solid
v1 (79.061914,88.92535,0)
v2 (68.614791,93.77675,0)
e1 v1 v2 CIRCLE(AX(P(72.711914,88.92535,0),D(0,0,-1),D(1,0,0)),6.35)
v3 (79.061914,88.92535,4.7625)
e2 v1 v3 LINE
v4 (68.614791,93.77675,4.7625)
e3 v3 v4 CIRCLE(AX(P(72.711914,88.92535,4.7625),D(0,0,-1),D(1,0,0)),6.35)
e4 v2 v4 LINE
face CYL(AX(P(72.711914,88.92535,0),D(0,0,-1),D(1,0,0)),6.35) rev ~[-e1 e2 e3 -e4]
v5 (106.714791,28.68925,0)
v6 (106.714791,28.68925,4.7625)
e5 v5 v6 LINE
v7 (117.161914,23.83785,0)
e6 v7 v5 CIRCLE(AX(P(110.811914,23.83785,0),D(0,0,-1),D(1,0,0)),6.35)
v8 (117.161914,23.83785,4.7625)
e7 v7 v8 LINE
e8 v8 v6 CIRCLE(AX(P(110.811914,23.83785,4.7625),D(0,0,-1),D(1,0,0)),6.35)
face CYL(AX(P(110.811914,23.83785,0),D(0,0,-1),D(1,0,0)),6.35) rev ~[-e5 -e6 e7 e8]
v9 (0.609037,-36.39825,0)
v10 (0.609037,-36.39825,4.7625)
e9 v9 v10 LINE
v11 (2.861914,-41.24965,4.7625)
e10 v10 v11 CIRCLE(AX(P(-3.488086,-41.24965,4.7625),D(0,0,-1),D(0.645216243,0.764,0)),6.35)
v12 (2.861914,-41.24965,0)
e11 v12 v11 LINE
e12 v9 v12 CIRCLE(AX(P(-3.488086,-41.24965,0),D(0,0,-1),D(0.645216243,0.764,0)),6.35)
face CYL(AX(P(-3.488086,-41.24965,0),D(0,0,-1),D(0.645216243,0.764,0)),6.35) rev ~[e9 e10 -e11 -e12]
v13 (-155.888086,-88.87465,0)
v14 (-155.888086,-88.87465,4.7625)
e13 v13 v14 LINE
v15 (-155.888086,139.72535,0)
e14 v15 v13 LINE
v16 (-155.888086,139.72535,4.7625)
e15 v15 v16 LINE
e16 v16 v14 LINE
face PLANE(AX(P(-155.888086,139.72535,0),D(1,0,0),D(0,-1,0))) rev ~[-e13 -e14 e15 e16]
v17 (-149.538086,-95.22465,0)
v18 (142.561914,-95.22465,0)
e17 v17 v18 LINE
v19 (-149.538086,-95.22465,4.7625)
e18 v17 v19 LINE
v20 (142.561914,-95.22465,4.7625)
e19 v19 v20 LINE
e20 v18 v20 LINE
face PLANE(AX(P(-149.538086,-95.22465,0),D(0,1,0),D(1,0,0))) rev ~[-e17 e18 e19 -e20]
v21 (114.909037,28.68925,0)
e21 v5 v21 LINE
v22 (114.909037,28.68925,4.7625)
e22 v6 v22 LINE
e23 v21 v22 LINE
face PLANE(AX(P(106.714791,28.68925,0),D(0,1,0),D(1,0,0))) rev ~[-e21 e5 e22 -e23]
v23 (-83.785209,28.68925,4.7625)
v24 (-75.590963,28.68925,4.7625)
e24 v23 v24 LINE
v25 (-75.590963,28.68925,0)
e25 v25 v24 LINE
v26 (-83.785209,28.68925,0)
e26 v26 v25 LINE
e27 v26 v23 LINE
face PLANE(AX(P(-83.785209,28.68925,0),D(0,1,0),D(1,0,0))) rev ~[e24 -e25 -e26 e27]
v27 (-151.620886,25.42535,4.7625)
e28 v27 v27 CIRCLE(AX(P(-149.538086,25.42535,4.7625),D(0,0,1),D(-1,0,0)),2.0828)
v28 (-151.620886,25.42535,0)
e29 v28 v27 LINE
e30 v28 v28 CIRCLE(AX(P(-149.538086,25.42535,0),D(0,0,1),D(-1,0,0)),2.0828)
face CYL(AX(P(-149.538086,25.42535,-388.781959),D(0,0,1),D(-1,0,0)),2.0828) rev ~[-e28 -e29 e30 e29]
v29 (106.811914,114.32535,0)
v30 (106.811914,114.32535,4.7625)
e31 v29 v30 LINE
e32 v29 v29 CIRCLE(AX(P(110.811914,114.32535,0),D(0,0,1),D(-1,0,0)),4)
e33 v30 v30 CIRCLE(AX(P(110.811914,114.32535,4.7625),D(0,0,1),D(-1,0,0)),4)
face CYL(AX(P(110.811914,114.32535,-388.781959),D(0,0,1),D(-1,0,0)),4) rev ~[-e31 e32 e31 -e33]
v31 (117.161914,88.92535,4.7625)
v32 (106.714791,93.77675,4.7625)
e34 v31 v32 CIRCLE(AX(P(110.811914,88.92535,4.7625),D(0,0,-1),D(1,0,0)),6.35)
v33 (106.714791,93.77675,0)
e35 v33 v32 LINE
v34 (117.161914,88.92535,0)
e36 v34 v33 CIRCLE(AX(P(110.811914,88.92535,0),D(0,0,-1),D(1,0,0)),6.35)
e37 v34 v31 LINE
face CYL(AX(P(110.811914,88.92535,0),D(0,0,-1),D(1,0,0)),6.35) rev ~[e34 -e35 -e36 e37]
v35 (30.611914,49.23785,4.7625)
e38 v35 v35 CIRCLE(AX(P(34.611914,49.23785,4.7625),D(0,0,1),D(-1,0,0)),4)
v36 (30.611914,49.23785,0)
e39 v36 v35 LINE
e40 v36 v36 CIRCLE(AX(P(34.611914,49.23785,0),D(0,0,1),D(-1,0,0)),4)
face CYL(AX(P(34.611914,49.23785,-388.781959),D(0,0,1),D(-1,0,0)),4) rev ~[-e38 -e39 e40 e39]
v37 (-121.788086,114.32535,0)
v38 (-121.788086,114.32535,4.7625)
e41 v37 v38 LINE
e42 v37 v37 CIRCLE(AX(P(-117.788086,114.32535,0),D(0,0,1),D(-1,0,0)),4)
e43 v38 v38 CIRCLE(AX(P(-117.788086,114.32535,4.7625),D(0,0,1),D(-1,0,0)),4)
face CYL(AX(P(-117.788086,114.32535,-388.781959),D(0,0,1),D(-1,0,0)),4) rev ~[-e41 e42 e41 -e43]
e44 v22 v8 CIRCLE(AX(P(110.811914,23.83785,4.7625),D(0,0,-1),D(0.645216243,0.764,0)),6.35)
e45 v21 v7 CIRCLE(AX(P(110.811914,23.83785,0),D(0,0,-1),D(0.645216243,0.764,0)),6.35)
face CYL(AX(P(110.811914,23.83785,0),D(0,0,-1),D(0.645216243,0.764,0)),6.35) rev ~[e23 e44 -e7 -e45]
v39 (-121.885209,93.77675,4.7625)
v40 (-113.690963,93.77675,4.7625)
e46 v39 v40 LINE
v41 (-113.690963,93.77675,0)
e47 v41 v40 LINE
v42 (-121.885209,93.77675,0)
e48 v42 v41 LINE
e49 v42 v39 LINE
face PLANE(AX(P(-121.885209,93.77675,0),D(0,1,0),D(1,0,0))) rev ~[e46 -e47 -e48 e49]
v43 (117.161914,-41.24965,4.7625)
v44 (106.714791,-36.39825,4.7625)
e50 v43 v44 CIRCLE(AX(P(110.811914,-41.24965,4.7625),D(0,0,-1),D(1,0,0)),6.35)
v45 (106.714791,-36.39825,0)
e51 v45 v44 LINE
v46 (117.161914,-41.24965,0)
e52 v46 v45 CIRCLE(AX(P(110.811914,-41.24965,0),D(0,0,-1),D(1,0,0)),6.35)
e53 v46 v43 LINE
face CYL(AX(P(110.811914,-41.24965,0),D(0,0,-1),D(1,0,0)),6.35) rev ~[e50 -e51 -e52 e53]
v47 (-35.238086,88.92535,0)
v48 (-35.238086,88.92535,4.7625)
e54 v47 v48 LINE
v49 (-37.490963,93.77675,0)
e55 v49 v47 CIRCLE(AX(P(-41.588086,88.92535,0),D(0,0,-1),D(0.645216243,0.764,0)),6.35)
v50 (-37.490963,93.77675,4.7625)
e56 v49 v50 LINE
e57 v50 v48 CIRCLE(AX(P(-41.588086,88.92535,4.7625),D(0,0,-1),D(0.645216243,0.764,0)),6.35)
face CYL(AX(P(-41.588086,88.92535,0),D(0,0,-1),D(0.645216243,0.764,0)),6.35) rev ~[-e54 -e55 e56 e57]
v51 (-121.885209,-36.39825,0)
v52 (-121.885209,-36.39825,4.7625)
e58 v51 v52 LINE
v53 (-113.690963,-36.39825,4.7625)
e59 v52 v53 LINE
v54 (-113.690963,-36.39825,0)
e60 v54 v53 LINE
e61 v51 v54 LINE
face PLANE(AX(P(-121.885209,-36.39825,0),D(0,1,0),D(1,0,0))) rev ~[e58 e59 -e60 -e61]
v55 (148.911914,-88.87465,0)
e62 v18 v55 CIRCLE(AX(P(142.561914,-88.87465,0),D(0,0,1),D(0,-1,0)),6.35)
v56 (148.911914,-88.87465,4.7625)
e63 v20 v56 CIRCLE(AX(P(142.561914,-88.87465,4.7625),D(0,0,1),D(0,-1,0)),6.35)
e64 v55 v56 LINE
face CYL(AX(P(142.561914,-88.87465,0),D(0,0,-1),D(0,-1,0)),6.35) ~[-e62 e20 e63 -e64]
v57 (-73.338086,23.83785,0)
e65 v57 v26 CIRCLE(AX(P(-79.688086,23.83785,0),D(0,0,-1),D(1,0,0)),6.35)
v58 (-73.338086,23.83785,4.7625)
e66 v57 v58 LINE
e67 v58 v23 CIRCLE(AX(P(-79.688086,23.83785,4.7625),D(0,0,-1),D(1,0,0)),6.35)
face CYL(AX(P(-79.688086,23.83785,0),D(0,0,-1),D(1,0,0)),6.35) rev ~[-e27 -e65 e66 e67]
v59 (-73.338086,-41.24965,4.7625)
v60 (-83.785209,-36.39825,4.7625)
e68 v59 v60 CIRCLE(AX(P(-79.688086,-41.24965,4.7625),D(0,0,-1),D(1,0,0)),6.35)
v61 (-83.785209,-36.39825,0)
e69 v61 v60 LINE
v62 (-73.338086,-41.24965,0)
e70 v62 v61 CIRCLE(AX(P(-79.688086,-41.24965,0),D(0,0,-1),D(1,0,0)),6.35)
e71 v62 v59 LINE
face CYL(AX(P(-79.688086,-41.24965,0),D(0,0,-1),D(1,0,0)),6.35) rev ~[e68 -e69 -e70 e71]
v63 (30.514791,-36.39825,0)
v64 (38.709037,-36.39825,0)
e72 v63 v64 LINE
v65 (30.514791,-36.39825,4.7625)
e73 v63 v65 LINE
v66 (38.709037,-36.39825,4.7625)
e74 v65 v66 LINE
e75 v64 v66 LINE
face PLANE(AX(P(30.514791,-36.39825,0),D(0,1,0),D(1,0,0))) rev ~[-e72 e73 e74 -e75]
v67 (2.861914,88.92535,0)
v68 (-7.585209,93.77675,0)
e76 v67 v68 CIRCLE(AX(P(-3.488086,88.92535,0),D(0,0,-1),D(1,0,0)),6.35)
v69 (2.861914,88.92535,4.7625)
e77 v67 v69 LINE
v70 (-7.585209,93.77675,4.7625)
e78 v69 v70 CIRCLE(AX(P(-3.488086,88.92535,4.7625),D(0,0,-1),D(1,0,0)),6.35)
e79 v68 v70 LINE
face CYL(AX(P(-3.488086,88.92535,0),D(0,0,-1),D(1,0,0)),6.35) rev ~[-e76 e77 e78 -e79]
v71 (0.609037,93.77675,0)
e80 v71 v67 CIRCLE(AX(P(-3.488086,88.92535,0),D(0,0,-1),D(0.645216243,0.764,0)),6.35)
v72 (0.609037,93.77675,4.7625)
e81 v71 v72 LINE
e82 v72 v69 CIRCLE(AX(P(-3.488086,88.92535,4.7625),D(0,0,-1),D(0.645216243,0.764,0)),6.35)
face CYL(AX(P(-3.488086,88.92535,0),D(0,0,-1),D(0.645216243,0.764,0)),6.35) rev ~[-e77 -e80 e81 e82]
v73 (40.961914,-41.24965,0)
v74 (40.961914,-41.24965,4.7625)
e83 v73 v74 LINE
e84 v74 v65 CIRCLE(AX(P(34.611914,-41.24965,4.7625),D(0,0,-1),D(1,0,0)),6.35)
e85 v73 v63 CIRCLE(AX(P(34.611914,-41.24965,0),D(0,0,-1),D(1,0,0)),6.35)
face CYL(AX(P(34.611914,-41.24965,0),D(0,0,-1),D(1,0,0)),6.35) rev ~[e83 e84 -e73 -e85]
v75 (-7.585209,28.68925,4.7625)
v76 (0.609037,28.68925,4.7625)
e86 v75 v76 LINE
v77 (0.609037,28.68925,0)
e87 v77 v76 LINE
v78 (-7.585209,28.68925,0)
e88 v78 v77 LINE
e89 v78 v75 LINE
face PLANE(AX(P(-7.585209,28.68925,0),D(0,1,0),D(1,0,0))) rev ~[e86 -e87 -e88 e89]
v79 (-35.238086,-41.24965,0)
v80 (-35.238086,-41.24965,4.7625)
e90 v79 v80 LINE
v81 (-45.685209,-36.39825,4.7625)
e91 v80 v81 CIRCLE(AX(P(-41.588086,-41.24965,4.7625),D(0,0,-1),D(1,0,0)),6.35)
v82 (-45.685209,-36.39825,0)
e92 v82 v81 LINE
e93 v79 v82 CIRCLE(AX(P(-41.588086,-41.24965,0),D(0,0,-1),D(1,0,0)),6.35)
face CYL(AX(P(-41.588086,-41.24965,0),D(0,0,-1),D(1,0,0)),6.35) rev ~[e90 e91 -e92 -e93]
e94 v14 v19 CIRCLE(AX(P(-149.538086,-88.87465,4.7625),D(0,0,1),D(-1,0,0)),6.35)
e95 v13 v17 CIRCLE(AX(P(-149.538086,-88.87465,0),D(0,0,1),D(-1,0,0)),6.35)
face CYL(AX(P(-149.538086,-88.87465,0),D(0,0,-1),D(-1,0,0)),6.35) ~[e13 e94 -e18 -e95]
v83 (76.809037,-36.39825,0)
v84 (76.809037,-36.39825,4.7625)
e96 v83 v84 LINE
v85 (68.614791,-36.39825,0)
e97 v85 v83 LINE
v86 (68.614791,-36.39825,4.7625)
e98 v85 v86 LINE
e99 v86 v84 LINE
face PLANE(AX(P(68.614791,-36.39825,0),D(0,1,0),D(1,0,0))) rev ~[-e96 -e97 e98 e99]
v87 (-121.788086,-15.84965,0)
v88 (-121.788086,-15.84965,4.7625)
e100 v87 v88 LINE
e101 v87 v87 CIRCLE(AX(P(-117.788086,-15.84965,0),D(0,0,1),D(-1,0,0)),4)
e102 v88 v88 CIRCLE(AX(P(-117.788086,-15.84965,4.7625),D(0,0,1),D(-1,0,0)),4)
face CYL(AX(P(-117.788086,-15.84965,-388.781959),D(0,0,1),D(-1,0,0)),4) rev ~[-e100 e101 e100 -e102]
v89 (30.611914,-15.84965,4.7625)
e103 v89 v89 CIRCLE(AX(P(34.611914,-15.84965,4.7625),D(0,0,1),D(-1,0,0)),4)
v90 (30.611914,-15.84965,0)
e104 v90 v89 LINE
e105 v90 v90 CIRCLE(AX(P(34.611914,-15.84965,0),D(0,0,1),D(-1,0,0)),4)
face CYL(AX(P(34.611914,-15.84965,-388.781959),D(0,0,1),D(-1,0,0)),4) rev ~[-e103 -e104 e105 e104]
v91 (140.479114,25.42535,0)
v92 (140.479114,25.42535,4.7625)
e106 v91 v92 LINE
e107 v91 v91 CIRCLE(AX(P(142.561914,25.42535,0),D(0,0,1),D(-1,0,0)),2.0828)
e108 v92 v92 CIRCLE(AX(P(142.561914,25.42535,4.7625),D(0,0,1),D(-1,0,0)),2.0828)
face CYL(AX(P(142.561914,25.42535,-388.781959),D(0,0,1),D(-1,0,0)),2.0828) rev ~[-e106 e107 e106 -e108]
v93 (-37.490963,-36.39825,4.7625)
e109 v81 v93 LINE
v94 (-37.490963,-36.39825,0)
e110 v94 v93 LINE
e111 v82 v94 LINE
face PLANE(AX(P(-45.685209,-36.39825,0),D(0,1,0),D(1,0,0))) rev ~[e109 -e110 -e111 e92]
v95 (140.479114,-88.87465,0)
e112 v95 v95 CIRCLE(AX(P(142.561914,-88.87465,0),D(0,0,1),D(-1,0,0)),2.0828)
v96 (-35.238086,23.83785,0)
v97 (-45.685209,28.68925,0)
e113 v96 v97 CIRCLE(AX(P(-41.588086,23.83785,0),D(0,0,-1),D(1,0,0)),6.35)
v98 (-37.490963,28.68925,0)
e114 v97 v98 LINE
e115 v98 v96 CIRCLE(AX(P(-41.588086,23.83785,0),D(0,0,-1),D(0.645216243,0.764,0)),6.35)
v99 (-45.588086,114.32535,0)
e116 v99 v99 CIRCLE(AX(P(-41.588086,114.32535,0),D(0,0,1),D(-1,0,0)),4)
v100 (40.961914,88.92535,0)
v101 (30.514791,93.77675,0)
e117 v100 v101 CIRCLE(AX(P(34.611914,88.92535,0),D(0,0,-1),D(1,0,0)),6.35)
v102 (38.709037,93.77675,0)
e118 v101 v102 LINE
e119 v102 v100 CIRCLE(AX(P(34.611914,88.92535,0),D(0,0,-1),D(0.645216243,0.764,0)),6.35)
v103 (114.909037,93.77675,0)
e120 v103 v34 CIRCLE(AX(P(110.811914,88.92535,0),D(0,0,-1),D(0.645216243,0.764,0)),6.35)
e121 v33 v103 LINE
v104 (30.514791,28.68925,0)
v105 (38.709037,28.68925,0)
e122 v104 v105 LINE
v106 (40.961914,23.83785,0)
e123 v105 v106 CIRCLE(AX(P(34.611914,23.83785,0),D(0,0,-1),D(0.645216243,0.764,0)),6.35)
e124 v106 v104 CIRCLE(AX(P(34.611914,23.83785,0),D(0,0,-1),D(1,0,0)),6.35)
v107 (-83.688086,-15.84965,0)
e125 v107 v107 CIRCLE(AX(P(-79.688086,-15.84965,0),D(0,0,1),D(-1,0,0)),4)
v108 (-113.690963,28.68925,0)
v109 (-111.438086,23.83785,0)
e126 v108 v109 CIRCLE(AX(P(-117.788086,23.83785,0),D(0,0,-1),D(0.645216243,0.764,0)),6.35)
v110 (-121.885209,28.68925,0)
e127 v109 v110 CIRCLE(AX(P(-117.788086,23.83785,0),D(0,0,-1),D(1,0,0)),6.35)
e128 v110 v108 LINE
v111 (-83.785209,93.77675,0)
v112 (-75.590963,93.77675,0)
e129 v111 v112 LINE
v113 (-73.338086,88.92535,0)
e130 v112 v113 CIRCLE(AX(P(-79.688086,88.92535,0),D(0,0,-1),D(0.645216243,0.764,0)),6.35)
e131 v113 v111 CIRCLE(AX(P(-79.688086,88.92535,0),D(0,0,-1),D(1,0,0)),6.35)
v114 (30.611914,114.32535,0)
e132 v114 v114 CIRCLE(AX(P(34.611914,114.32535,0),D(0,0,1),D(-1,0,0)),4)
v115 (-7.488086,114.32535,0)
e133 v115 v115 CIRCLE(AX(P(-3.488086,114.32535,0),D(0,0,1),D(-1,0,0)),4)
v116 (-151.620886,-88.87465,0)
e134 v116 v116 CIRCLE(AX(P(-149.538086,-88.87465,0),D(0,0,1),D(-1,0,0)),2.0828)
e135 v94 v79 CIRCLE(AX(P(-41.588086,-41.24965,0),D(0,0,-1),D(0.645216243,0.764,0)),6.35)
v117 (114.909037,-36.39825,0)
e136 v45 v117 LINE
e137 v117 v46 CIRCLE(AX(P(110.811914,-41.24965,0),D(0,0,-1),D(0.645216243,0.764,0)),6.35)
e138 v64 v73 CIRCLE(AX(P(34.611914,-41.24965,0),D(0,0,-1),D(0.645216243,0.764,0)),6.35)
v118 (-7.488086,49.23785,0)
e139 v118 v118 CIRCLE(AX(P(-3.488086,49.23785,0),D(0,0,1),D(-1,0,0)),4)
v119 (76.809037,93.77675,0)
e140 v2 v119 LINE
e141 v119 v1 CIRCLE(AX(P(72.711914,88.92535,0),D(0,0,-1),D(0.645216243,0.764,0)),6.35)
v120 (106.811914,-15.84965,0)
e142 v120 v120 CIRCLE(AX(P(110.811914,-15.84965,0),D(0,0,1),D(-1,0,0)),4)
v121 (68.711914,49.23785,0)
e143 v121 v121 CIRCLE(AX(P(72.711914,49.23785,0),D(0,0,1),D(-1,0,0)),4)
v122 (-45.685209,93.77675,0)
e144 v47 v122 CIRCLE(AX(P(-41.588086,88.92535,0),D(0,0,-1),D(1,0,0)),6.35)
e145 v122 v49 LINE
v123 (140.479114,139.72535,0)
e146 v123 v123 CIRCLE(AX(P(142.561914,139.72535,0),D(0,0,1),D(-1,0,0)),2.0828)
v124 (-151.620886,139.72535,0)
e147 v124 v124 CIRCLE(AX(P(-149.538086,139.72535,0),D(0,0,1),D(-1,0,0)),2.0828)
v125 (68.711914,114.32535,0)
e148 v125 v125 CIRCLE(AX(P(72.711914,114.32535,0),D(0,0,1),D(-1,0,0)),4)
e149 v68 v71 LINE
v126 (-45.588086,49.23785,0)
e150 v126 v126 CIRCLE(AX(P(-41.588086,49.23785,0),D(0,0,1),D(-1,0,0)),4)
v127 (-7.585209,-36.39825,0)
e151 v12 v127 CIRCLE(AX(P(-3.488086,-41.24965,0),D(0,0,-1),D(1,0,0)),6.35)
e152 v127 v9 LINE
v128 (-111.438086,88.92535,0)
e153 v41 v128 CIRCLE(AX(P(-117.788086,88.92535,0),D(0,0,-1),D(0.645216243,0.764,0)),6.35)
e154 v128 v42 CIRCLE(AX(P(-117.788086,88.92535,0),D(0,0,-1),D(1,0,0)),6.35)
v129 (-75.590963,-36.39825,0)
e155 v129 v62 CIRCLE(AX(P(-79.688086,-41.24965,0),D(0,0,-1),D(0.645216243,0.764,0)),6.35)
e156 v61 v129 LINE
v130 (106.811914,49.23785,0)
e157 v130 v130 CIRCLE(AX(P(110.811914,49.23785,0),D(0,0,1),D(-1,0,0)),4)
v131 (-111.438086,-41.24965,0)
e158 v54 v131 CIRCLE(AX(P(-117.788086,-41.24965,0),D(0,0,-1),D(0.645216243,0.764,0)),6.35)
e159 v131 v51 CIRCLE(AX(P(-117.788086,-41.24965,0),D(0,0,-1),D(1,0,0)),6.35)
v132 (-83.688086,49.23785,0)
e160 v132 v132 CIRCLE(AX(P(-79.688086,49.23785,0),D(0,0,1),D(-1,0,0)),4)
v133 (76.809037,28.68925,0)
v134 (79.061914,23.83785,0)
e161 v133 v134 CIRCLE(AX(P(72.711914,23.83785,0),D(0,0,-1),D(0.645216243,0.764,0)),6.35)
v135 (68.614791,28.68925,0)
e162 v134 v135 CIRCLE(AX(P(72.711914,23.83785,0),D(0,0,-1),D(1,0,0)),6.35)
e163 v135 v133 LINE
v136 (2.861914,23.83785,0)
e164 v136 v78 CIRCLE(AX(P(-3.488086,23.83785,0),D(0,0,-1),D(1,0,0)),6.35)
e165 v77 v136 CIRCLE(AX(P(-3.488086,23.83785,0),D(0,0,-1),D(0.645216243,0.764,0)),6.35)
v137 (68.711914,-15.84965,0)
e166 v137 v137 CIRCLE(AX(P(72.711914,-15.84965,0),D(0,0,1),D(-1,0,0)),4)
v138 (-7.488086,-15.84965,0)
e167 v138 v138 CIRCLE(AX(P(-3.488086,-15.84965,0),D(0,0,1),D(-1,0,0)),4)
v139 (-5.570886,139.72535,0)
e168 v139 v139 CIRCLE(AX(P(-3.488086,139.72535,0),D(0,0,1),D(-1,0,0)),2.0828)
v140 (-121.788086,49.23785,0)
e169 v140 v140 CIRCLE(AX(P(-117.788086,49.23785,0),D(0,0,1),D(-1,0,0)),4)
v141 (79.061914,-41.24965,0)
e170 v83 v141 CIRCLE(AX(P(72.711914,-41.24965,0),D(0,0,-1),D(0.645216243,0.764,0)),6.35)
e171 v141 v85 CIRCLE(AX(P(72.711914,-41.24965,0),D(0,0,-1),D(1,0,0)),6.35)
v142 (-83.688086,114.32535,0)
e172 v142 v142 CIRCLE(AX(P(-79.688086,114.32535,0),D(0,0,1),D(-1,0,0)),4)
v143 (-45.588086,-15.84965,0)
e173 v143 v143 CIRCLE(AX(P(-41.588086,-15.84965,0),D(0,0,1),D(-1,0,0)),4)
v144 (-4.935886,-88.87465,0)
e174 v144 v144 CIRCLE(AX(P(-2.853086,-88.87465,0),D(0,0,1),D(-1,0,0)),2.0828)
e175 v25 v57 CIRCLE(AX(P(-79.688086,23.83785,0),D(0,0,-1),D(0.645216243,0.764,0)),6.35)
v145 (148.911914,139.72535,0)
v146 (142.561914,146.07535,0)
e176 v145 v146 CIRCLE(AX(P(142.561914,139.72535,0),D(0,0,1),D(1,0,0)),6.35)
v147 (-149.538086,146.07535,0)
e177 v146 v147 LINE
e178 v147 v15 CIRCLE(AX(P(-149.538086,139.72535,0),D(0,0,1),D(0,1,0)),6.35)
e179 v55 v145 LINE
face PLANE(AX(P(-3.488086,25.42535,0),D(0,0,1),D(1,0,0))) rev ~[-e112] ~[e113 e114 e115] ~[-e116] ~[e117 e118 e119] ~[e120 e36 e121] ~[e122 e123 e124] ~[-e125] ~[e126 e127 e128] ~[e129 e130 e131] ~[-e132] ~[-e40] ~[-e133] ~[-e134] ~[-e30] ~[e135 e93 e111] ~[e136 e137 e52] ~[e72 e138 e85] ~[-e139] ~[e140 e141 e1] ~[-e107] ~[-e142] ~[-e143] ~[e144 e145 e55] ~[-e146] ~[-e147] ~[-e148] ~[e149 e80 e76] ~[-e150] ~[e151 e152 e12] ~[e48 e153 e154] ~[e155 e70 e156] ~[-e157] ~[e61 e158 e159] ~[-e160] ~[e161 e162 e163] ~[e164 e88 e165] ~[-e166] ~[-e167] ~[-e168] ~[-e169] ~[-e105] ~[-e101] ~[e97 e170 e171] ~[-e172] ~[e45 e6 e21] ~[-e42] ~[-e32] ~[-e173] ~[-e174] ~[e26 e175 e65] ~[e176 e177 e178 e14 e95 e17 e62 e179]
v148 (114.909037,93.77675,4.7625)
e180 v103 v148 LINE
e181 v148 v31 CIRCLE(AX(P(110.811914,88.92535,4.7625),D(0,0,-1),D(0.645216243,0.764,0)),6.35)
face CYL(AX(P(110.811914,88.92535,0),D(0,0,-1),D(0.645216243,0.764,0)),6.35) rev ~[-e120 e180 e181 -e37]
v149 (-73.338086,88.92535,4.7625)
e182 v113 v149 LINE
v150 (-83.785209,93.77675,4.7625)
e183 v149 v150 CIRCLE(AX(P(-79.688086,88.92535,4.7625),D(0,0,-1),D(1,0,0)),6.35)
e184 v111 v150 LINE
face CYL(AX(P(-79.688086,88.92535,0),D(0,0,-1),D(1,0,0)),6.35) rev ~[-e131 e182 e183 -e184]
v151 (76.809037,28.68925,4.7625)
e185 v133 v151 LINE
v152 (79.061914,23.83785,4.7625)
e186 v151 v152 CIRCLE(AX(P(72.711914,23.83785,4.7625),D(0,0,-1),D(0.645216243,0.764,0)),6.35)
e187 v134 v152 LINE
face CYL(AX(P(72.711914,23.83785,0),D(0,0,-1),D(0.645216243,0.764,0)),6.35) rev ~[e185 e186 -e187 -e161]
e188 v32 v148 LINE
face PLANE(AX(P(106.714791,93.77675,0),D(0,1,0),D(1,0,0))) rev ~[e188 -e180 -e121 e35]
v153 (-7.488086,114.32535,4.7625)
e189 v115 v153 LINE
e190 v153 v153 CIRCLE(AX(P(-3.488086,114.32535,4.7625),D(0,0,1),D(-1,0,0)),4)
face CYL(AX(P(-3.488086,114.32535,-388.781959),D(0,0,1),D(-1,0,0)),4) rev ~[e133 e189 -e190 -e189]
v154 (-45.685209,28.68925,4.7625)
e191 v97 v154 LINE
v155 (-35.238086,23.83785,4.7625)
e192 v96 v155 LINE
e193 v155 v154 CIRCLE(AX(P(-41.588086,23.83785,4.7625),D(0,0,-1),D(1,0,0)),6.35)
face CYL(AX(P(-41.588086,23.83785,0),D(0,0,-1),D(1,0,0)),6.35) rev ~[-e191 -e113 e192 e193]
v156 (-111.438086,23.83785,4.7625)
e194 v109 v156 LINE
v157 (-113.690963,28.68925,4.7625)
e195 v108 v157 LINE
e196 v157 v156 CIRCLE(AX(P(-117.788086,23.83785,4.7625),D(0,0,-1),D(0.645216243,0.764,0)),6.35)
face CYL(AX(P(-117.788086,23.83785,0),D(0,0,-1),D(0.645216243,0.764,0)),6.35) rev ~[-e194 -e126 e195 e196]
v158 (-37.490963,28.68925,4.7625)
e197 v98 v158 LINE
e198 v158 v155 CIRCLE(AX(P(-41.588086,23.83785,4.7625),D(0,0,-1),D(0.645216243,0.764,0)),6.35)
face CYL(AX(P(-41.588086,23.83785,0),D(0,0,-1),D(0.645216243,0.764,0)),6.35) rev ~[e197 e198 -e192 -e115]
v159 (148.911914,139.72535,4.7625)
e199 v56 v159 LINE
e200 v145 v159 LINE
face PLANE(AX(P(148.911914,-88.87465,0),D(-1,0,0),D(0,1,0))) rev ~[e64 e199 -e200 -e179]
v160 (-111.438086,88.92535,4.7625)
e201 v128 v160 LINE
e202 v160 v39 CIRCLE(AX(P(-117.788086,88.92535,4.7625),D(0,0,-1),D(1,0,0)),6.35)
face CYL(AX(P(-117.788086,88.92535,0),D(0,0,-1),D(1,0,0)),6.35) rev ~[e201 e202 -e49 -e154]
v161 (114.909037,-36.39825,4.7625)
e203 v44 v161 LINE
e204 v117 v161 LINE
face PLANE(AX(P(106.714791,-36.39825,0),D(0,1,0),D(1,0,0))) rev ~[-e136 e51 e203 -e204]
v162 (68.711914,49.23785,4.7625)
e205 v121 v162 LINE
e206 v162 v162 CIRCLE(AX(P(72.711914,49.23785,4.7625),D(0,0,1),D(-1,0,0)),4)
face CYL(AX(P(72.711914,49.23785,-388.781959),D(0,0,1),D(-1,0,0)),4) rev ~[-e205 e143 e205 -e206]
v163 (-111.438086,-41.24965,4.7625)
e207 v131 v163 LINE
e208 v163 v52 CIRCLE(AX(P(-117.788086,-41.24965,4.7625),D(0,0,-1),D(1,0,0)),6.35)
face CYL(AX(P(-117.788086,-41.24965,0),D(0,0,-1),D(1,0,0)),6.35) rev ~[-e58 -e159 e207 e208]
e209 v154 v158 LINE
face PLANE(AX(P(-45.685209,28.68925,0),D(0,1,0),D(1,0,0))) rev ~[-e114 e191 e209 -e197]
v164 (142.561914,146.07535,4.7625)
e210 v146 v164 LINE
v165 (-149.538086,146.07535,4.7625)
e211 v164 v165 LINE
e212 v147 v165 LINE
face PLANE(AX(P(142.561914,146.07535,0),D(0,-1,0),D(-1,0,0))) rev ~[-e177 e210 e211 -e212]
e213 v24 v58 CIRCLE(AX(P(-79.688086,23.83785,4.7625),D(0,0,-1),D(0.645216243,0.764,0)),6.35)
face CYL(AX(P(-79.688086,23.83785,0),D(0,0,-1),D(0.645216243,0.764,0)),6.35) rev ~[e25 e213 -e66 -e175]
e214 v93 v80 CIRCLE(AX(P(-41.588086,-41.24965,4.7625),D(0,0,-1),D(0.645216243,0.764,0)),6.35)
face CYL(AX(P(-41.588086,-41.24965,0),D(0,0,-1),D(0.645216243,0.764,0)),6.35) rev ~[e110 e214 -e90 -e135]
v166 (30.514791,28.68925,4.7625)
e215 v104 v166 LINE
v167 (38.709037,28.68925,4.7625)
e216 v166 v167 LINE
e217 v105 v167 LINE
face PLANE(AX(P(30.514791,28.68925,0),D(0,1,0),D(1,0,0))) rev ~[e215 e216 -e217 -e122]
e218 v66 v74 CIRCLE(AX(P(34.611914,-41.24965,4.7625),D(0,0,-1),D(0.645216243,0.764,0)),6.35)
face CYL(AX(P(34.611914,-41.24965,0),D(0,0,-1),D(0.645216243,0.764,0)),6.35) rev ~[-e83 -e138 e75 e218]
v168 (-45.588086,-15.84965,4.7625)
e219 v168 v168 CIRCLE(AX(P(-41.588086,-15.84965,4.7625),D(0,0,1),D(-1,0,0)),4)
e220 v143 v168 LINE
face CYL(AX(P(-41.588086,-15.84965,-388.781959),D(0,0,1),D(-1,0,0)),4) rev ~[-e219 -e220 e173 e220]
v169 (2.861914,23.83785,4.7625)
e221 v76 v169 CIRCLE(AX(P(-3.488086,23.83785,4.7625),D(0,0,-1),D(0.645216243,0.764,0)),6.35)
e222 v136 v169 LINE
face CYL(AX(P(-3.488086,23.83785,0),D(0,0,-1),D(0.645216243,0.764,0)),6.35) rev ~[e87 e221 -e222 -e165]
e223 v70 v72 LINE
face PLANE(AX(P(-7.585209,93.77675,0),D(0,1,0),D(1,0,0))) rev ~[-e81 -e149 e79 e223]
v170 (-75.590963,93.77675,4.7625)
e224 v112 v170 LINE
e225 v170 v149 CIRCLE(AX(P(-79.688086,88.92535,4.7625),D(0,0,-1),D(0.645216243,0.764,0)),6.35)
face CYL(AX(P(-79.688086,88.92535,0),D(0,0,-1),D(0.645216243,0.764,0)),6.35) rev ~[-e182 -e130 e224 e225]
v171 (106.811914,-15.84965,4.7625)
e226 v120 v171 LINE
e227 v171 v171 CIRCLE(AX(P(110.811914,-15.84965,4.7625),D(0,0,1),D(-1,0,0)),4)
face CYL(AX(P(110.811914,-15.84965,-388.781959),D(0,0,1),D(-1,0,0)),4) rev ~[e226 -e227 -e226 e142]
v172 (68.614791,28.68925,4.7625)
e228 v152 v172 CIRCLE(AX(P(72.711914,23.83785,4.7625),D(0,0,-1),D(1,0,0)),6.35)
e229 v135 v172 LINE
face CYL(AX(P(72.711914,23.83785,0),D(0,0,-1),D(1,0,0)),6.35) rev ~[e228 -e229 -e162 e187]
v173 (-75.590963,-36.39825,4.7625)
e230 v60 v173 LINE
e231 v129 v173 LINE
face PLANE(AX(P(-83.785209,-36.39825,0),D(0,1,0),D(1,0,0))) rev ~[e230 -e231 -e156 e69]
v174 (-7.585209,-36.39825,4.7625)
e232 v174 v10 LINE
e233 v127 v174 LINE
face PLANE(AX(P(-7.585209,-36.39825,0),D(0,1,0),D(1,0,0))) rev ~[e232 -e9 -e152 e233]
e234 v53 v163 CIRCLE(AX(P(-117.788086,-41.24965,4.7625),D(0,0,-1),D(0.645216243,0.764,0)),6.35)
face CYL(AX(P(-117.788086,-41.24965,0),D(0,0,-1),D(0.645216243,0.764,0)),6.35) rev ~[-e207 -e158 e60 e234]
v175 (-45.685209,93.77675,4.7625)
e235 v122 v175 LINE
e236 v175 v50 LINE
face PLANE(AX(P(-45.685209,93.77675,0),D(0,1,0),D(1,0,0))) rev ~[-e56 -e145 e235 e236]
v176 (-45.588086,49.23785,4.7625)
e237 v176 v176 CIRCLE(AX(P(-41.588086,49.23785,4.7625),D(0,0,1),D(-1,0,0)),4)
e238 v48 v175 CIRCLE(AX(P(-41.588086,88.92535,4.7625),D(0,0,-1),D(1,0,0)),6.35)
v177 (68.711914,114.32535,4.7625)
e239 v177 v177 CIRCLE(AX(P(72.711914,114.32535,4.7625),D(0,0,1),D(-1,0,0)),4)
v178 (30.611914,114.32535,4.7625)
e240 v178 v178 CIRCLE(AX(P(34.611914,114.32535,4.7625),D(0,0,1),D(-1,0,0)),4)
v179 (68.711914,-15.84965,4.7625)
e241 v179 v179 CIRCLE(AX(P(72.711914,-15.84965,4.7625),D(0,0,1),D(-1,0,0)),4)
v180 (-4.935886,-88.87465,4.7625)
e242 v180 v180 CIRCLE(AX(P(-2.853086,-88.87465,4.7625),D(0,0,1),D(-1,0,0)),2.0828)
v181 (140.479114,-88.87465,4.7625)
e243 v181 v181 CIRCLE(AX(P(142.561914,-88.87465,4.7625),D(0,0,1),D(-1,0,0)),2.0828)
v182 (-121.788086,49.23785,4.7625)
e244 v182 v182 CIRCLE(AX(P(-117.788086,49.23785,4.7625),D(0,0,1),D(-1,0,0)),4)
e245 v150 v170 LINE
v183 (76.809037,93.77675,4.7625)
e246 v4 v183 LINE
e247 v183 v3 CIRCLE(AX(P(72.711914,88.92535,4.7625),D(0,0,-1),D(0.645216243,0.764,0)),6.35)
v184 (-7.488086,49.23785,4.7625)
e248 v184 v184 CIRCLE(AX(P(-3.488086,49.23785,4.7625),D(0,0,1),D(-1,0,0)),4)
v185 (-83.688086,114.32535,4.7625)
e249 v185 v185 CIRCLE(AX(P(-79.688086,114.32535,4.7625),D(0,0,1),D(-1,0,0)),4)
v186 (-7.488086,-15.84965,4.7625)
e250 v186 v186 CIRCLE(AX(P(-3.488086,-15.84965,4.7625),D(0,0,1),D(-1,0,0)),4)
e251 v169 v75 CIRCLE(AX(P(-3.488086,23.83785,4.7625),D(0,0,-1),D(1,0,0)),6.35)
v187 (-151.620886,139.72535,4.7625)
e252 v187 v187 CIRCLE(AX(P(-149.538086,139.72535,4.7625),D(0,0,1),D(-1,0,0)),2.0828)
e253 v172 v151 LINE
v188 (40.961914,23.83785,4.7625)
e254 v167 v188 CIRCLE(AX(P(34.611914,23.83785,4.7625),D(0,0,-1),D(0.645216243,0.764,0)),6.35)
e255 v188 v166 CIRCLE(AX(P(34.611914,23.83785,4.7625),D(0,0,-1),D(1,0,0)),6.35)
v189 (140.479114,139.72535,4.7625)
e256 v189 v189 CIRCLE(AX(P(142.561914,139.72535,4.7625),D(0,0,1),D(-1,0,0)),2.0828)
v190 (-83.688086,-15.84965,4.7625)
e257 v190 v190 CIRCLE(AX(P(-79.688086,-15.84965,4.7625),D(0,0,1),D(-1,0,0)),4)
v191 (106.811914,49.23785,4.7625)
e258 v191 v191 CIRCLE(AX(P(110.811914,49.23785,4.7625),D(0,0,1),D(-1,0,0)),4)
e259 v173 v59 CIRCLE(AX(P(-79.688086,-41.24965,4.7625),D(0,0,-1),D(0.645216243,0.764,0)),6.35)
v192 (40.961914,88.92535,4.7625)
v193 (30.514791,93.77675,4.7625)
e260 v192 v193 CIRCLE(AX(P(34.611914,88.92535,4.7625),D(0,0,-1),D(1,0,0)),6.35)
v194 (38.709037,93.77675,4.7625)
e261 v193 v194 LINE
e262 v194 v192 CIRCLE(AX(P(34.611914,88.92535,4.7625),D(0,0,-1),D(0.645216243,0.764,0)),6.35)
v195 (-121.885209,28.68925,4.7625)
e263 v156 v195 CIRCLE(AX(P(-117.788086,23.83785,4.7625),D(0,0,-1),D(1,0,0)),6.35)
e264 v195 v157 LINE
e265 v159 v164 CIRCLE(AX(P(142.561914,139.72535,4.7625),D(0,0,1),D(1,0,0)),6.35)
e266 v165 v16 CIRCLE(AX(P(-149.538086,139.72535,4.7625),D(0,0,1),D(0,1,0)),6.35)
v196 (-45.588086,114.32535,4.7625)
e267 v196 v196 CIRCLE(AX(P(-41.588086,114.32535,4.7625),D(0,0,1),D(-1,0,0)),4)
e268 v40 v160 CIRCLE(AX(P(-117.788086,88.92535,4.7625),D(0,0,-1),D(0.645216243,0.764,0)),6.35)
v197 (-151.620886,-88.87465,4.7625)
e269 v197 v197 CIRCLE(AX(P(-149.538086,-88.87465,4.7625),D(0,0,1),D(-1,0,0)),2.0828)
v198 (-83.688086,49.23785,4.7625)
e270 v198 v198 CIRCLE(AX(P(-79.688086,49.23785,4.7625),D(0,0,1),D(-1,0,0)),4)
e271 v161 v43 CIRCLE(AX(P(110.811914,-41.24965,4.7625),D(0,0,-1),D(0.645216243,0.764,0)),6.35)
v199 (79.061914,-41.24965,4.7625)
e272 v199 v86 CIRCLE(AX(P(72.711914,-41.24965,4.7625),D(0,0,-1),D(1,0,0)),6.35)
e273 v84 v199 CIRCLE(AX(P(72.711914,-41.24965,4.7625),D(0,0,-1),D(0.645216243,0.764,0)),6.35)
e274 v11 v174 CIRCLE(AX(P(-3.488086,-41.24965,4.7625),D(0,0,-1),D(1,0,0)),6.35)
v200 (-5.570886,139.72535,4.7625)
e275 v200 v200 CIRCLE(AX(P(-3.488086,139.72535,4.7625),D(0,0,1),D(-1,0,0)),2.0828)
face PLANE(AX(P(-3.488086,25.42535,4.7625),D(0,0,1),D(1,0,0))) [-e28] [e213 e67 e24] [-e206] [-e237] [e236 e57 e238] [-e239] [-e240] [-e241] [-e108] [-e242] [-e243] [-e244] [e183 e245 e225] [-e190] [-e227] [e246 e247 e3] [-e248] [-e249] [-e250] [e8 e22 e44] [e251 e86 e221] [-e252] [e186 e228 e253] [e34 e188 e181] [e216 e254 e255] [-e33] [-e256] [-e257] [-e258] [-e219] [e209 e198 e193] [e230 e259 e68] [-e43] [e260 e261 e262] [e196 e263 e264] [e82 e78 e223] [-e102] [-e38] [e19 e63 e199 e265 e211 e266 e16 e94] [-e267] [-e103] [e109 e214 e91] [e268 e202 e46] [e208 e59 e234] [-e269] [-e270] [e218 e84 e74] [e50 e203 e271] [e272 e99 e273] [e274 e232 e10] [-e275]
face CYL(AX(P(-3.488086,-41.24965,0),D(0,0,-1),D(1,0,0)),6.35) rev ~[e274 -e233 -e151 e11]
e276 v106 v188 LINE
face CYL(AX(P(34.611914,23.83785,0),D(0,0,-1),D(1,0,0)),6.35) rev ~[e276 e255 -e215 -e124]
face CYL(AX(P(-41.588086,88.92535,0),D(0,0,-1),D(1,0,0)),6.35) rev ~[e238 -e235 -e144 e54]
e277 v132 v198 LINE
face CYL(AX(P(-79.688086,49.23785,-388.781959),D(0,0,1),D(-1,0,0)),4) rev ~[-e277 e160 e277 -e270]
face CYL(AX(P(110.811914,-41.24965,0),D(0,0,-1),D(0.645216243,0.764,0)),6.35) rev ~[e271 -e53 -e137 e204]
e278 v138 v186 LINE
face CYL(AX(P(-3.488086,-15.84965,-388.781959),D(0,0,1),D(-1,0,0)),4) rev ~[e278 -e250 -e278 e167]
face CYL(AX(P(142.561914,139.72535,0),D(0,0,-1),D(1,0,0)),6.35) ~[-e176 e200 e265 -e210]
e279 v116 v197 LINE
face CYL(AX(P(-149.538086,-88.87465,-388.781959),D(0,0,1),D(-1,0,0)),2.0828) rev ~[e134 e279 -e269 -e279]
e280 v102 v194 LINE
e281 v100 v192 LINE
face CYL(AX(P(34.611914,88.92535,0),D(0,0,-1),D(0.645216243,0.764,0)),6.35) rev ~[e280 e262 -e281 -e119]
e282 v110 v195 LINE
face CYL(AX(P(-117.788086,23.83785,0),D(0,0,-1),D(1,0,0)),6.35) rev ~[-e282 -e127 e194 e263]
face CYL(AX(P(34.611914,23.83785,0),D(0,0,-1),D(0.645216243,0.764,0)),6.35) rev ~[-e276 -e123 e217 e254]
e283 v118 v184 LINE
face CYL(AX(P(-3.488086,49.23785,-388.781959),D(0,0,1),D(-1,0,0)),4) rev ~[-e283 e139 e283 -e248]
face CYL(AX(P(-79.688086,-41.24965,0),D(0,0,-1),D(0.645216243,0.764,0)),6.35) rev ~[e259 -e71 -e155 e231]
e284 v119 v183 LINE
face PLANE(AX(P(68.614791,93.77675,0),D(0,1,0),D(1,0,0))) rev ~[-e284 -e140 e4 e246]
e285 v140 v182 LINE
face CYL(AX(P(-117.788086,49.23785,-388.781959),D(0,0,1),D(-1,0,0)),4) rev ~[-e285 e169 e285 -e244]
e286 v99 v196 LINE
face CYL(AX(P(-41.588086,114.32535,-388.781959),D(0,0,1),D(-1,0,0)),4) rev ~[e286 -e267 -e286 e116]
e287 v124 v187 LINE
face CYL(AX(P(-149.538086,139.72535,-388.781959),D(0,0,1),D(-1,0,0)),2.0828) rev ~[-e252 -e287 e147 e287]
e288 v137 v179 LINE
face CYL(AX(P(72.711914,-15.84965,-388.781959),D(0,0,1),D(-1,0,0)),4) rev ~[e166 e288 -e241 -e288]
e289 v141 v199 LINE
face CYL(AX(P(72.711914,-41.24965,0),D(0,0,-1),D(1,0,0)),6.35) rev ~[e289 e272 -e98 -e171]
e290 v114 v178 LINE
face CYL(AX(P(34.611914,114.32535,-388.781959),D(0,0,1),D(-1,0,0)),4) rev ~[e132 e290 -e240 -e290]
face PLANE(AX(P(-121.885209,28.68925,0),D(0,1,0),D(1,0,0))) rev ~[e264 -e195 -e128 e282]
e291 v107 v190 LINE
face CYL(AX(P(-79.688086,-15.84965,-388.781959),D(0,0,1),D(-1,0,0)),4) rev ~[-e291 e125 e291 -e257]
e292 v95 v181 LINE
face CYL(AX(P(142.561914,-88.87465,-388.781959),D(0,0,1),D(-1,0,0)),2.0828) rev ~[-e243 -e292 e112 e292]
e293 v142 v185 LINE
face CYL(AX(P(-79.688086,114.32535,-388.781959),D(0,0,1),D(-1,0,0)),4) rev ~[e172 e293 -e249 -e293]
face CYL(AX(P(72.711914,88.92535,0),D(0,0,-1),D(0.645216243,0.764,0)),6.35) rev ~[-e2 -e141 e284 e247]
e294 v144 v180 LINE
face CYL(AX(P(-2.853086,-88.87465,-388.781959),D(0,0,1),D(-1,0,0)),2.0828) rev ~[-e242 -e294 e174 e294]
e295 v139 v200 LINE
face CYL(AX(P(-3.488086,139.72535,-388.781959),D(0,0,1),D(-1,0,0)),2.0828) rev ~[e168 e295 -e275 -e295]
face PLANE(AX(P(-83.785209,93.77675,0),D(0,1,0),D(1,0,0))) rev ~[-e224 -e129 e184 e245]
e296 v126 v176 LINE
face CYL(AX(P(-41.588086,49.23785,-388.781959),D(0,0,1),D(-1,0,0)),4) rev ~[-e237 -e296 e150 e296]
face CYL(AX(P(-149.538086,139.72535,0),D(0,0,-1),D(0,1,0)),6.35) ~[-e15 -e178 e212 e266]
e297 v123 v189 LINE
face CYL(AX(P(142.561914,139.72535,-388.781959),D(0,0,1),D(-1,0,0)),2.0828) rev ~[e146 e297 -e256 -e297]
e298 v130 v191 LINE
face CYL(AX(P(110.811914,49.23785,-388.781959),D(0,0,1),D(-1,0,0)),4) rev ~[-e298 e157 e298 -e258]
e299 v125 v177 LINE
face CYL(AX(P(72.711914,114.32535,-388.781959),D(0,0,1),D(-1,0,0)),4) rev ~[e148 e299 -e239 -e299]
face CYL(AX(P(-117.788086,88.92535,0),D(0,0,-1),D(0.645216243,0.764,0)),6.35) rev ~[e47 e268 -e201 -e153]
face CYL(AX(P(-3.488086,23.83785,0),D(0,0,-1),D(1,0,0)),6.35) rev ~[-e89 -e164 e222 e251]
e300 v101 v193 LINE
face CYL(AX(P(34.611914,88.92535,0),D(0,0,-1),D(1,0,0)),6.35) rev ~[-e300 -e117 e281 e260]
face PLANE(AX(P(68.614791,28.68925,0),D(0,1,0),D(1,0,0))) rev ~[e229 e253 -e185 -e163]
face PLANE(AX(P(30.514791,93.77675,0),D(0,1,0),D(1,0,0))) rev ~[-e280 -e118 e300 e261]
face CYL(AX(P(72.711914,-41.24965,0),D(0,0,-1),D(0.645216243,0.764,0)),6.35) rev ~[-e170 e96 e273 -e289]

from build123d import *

# Parameters (mm, degrees)
F1_DEPTH = 4.7625
F2_D     = 8
F3_D     = 4.1656


with BuildPart() as f1:
    # F0 (on Top) → F1 (new body)
    with BuildSketch(Plane.XY):
        with BuildLine():
            Line((142.5619142985, 146.0753495158), (-149.5380857015, 146.0753495158))
            ThreePointArc((-149.5380857015, 146.0753495158), (-154.028213762, 144.2154775763), (-155.8880857015, 139.7253495158))
            Line((-155.8880857015, 139.7253495158), (-155.8880857015, -88.8746504842))
            ThreePointArc((-155.8880857015, -88.8746504842), (-154.028213762, -93.3647785448), (-149.5380857015, -95.2246504842))
            Line((-149.5380857015, -95.2246504842), (142.5619142985, -95.2246504842))
            ThreePointArc((142.5619142985, -95.2246504842), (147.0520423591, -93.3647785448), (148.9119142985, -88.8746504842))
            Line((148.9119142985, -88.8746504842), (148.9119142985, 139.7253495158))
            ThreePointArc((148.9119142985, 139.7253495158), (147.0520423591, 144.2154775763), (142.5619142985, 146.0753495158))
        make_face()
        with BuildLine():
            ThreePointArc((-113.6909625595, -36.3982504842), (-112.0287788008, -38.5751628652), (-111.4380857015, -41.2496504842))
            ThreePointArc((-111.4380857015, -41.2496504842), (-120.4625733205, -47.0089573848), (-121.8852088434, -36.3982504842))
            ThreePointArc((-121.8852088434, -36.3982504842), (-117.7880857015, -34.8996504842), (-113.6909625595, -36.3982504842))
        make_face(mode=Mode.SUBTRACT)
        with BuildLine():
            ThreePointArc((-75.5909625595, -36.3982504842), (-73.9287788008, -38.5751628652), (-73.3380857015, -41.2496504842))
            ThreePointArc((-73.3380857015, -41.2496504842), (-82.3625733205, -47.0089573848), (-83.7852088434, -36.3982504842))
            ThreePointArc((-83.7852088434, -36.3982504842), (-79.6880857015, -34.8996504842), (-75.5909625595, -36.3982504842))
        make_face(mode=Mode.SUBTRACT)
        with BuildLine():
            ThreePointArc((-37.4909625595, -36.3982504842), (-35.8287788008, -38.5751628652), (-35.2380857015, -41.2496504842))
            ThreePointArc((-35.2380857015, -41.2496504842), (-44.2625733205, -47.0089573848), (-45.6852088434, -36.3982504842))
            ThreePointArc((-45.6852088434, -36.3982504842), (-41.5880857015, -34.8996504842), (-37.4909625595, -36.3982504842))
        make_face(mode=Mode.SUBTRACT)
        with BuildLine():
            ThreePointArc((0.6090374405, -36.3982504842), (2.2712211992, -38.5751628652), (2.8619142985, -41.2496504842))
            ThreePointArc((2.8619142985, -41.2496504842), (-6.1625733205, -47.0089573848), (-7.5852088434, -36.3982504842))
            ThreePointArc((-7.5852088434, -36.3982504842), (-3.4880857015, -34.8996504842), (0.6090374405, -36.3982504842))
        make_face(mode=Mode.SUBTRACT)
        with BuildLine():
            ThreePointArc((-113.6909625595, 28.6892495158), (-112.0287788008, 26.5123371348), (-111.4380857015, 23.8378495158))
            ThreePointArc((-111.4380857015, 23.8378495158), (-120.4625733205, 18.0785426152), (-121.8852088434, 28.6892495158))
            ThreePointArc((-121.8852088434, 28.6892495158), (-117.7880857015, 30.1878495158), (-113.6909625595, 28.6892495158))
        make_face(mode=Mode.SUBTRACT)
        with BuildLine():
            ThreePointArc((-75.5909625595, 28.6892495158), (-73.9287788008, 26.5123371348), (-73.3380857015, 23.8378495158))
            ThreePointArc((-73.3380857015, 23.8378495158), (-82.3625733205, 18.0785426152), (-83.7852088434, 28.6892495158))
            ThreePointArc((-83.7852088434, 28.6892495158), (-79.6880857015, 30.1878495158), (-75.5909625595, 28.6892495158))
        make_face(mode=Mode.SUBTRACT)
        with BuildLine():
            ThreePointArc((-37.4909625595, 28.6892495158), (-35.8287788008, 26.5123371348), (-35.2380857015, 23.8378495158))
            ThreePointArc((-35.2380857015, 23.8378495158), (-44.2625733205, 18.0785426152), (-45.6852088434, 28.6892495158))
            ThreePointArc((-45.6852088434, 28.6892495158), (-41.5880857015, 30.1878495158), (-37.4909625595, 28.6892495158))
        make_face(mode=Mode.SUBTRACT)
        with BuildLine():
            ThreePointArc((0.6090374405, 28.6892495158), (2.2712211992, 26.5123371348), (2.8619142985, 23.8378495158))
            ThreePointArc((2.8619142985, 23.8378495158), (-6.1625733205, 18.0785426152), (-7.5852088434, 28.6892495158))
            ThreePointArc((-7.5852088434, 28.6892495158), (-3.4880857015, 30.1878495158), (0.6090374405, 28.6892495158))
        make_face(mode=Mode.SUBTRACT)
        with BuildLine():
            ThreePointArc((38.7090374405, -36.3982504842), (40.3712211992, -38.5751628652), (40.9619142985, -41.2496504842))
            ThreePointArc((40.9619142985, -41.2496504842), (31.9374266795, -47.0089573848), (30.5147911566, -36.3982504842))
            ThreePointArc((30.5147911566, -36.3982504842), (34.6119142985, -34.8996504842), (38.7090374405, -36.3982504842))
        make_face(mode=Mode.SUBTRACT)
        with BuildLine():
            ThreePointArc((76.8090374405, -36.3982504842), (78.4712211992, -38.5751628652), (79.0619142985, -41.2496504842))
            ThreePointArc((79.0619142985, -41.2496504842), (70.0374266795, -47.0089573848), (68.6147911566, -36.3982504842))
            ThreePointArc((68.6147911566, -36.3982504842), (72.7119142985, -34.8996504842), (76.8090374405, -36.3982504842))
        make_face(mode=Mode.SUBTRACT)
        with BuildLine():
            ThreePointArc((114.9090374405, -36.3982504842), (116.5712211992, -38.5751628652), (117.1619142985, -41.2496504842))
            ThreePointArc((117.1619142985, -41.2496504842), (108.1374266795, -47.0089573848), (106.7147911566, -36.3982504842))
            ThreePointArc((106.7147911566, -36.3982504842), (110.8119142985, -34.8996504842), (114.9090374405, -36.3982504842))
        make_face(mode=Mode.SUBTRACT)
        with BuildLine():
            ThreePointArc((38.7090374405, 28.6892495158), (40.3712211992, 26.5123371348), (40.9619142985, 23.8378495158))
            ThreePointArc((40.9619142985, 23.8378495158), (31.9374266795, 18.0785426152), (30.5147911566, 28.6892495158))
            ThreePointArc((30.5147911566, 28.6892495158), (34.6119142985, 30.1878495158), (38.7090374405, 28.6892495158))
        make_face(mode=Mode.SUBTRACT)
        with BuildLine():
            ThreePointArc((76.8090374405, 28.6892495158), (78.4712211992, 26.5123371348), (79.0619142985, 23.8378495158))
            ThreePointArc((79.0619142985, 23.8378495158), (70.0374266795, 18.0785426152), (68.6147911566, 28.6892495158))
            ThreePointArc((68.6147911566, 28.6892495158), (72.7119142985, 30.1878495158), (76.8090374405, 28.6892495158))
        make_face(mode=Mode.SUBTRACT)
        with BuildLine():
            ThreePointArc((114.9090374405, 28.6892495158), (116.5712211992, 26.5123371348), (117.1619142985, 23.8378495158))
            ThreePointArc((117.1619142985, 23.8378495158), (108.1374266795, 18.0785426152), (106.7147911566, 28.6892495158))
            ThreePointArc((106.7147911566, 28.6892495158), (110.8119142985, 30.1878495158), (114.9090374405, 28.6892495158))
        make_face(mode=Mode.SUBTRACT)
        with BuildLine():
            ThreePointArc((-113.6909625595, 93.7767495158), (-112.0287788008, 91.5998371348), (-111.4380857015, 88.9253495158))
            ThreePointArc((-111.4380857015, 88.9253495158), (-120.4625733205, 83.1660426152), (-121.8852088434, 93.7767495158))
            ThreePointArc((-121.8852088434, 93.7767495158), (-117.7880857015, 95.2753495158), (-113.6909625595, 93.7767495158))
        make_face(mode=Mode.SUBTRACT)
        with BuildLine():
            ThreePointArc((-75.5909625595, 93.7767495158), (-73.9287788008, 91.5998371348), (-73.3380857015, 88.9253495158))
            ThreePointArc((-73.3380857015, 88.9253495158), (-82.3625733205, 83.1660426152), (-83.7852088434, 93.7767495158))
            ThreePointArc((-83.7852088434, 93.7767495158), (-79.6880857015, 95.2753495158), (-75.5909625595, 93.7767495158))
        make_face(mode=Mode.SUBTRACT)
        with BuildLine():
            ThreePointArc((-37.4909625595, 93.7767495158), (-35.8287788008, 91.5998371348), (-35.2380857015, 88.9253495158))
            ThreePointArc((-35.2380857015, 88.9253495158), (-44.2625733205, 83.1660426152), (-45.6852088434, 93.7767495158))
            ThreePointArc((-45.6852088434, 93.7767495158), (-41.5880857015, 95.2753495158), (-37.4909625595, 93.7767495158))
        make_face(mode=Mode.SUBTRACT)
        with BuildLine():
            ThreePointArc((0.6090374405, 93.7767495158), (2.2712211992, 91.5998371348), (2.8619142985, 88.9253495158))
            ThreePointArc((2.8619142985, 88.9253495158), (-6.1625733205, 83.1660426152), (-7.5852088434, 93.7767495158))
            ThreePointArc((-7.5852088434, 93.7767495158), (-3.4880857015, 95.2753495158), (0.6090374405, 93.7767495158))
        make_face(mode=Mode.SUBTRACT)
        with BuildLine():
            ThreePointArc((38.7090374405, 93.7767495158), (40.3712211992, 91.5998371348), (40.9619142985, 88.9253495158))
            ThreePointArc((40.9619142985, 88.9253495158), (31.9374266795, 83.1660426152), (30.5147911566, 93.7767495158))
            ThreePointArc((30.5147911566, 93.7767495158), (34.6119142985, 95.2753495158), (38.7090374405, 93.7767495158))
        make_face(mode=Mode.SUBTRACT)
        with BuildLine():
            ThreePointArc((76.8090374405, 93.7767495158), (78.4712211992, 91.5998371348), (79.0619142985, 88.9253495158))
            ThreePointArc((79.0619142985, 88.9253495158), (70.0374266795, 83.1660426152), (68.6147911566, 93.7767495158))
            ThreePointArc((68.6147911566, 93.7767495158), (72.7119142985, 95.2753495158), (76.8090374405, 93.7767495158))
        make_face(mode=Mode.SUBTRACT)
        with BuildLine():
            ThreePointArc((114.9090374405, 93.7767495158), (116.5712211992, 91.5998371348), (117.1619142985, 88.9253495158))
            ThreePointArc((117.1619142985, 88.9253495158), (108.1374266795, 83.1660426152), (106.7147911566, 93.7767495158))
            ThreePointArc((106.7147911566, 93.7767495158), (110.8119142985, 95.2753495158), (114.9090374405, 93.7767495158))
        make_face(mode=Mode.SUBTRACT)
        with BuildLine():
            Line((-45.6852088434, 93.7767495158), (-37.4909625595, 93.7767495158))
            ThreePointArc((-37.4909625595, 93.7767495158), (-41.5880857015, 95.2753495158), (-45.6852088434, 93.7767495158))
        make_face()
        with BuildLine():
            Line((-121.8852088434, 93.7767495158), (-113.6909625595, 93.7767495158))
            ThreePointArc((-113.6909625595, 93.7767495158), (-117.7880857015, 95.2753495158), (-121.8852088434, 93.7767495158))
        make_face()
        with BuildLine():
            Line((-83.7852088434, 93.7767495158), (-75.5909625595, 93.7767495158))
            ThreePointArc((-75.5909625595, 93.7767495158), (-79.6880857015, 95.2753495158), (-83.7852088434, 93.7767495158))
        make_face()
        with BuildLine():
            Line((68.6147911566, 93.7767495158), (76.8090374405, 93.7767495158))
            ThreePointArc((76.8090374405, 93.7767495158), (72.7119142985, 95.2753495158), (68.6147911566, 93.7767495158))
        make_face()
        with BuildLine():
            Line((106.7147911566, 93.7767495158), (114.9090374405, 93.7767495158))
            ThreePointArc((114.9090374405, 93.7767495158), (110.8119142985, 95.2753495158), (106.7147911566, 93.7767495158))
        make_face()
        with BuildLine():
            Line((30.5147911566, 93.7767495158), (38.7090374405, 93.7767495158))
            ThreePointArc((38.7090374405, 93.7767495158), (34.6119142985, 95.2753495158), (30.5147911566, 93.7767495158))
        make_face()
        with BuildLine():
            Line((-7.5852088434, 93.7767495158), (0.6090374405, 93.7767495158))
            ThreePointArc((0.6090374405, 93.7767495158), (-3.4880857015, 95.2753495158), (-7.5852088434, 93.7767495158))
        make_face()
        with BuildLine():
            Line((106.7147911566, 28.6892495158), (114.9090374405, 28.6892495158))
            ThreePointArc((114.9090374405, 28.6892495158), (110.8119142985, 30.1878495158), (106.7147911566, 28.6892495158))
        make_face()
        with BuildLine():
            Line((68.6147911566, 28.6892495158), (76.8090374405, 28.6892495158))
            ThreePointArc((76.8090374405, 28.6892495158), (72.7119142985, 30.1878495158), (68.6147911566, 28.6892495158))
        make_face()
        with BuildLine():
            Line((-121.8852088434, 28.6892495158), (-113.6909625595, 28.6892495158))
            ThreePointArc((-113.6909625595, 28.6892495158), (-117.7880857015, 30.1878495158), (-121.8852088434, 28.6892495158))
        make_face()
        with BuildLine():
            Line((-83.7852088434, 28.6892495158), (-75.5909625595, 28.6892495158))
            ThreePointArc((-75.5909625595, 28.6892495158), (-79.6880857015, 30.1878495158), (-83.7852088434, 28.6892495158))
        make_face()
        with BuildLine():
            Line((30.5147911566, 28.6892495158), (38.7090374405, 28.6892495158))
            ThreePointArc((38.7090374405, 28.6892495158), (34.6119142985, 30.1878495158), (30.5147911566, 28.6892495158))
        make_face()
        with BuildLine():
            Line((-45.6852088434, 28.6892495158), (-37.4909625595, 28.6892495158))
            ThreePointArc((-37.4909625595, 28.6892495158), (-41.5880857015, 30.1878495158), (-45.6852088434, 28.6892495158))
        make_face()
        with BuildLine():
            Line((-7.5852088434, 28.6892495158), (0.6090374405, 28.6892495158))
            ThreePointArc((0.6090374405, 28.6892495158), (-3.4880857015, 30.1878495158), (-7.5852088434, 28.6892495158))
        make_face()
        with BuildLine():
            Line((-83.7852088434, -36.3982504842), (-75.5909625595, -36.3982504842))
            ThreePointArc((-75.5909625595, -36.3982504842), (-79.6880857015, -34.8996504842), (-83.7852088434, -36.3982504842))
        make_face()
        with BuildLine():
            Line((-121.8852088434, -36.3982504842), (-113.6909625595, -36.3982504842))
            ThreePointArc((-113.6909625595, -36.3982504842), (-117.7880857015, -34.8996504842), (-121.8852088434, -36.3982504842))
        make_face()
        with BuildLine():
            Line((106.7147911566, -36.3982504842), (114.9090374405, -36.3982504842))
            ThreePointArc((114.9090374405, -36.3982504842), (110.8119142985, -34.8996504842), (106.7147911566, -36.3982504842))
        make_face()
        with BuildLine():
            Line((-45.6852088434, -36.3982504842), (-37.4909625595, -36.3982504842))
            ThreePointArc((-37.4909625595, -36.3982504842), (-41.5880857015, -34.8996504842), (-45.6852088434, -36.3982504842))
        make_face()
        with BuildLine():
            Line((30.5147911566, -36.3982504842), (38.7090374405, -36.3982504842))
            ThreePointArc((38.7090374405, -36.3982504842), (34.6119142985, -34.8996504842), (30.5147911566, -36.3982504842))
        make_face()
        with BuildLine():
            Line((68.6147911566, -36.3982504842), (76.8090374405, -36.3982504842))
            ThreePointArc((76.8090374405, -36.3982504842), (72.7119142985, -34.8996504842), (68.6147911566, -36.3982504842))
        make_face()
        with BuildLine():
            Line((-7.5852088434, -36.3982504842), (0.6090374405, -36.3982504842))
            ThreePointArc((0.6090374405, -36.3982504842), (-3.4880857015, -34.8996504842), (-7.5852088434, -36.3982504842))
        make_face()
    extrude(amount=F1_DEPTH)

    # F2 (through all)
    with Locations(Plane(origin=(0, 0, 0), x_dir=(1, 0, 0), z_dir=(0, 0, -1))):
        with Locations((34.6119142985, -114.3253495158), (110.8119142985, -114.3253495158), (-41.5880857015, -114.3253495158), (-117.7880857015, -114.3253495158), (-3.4880857015, -114.3253495158), (72.7119142985, -114.3253495158), (-79.6880857015, -114.3253495158), (-41.5880857015, -49.2378495158), (34.6119142985, -49.2378495158), (110.8119142985, -49.2378495158), (-79.6880857015, -49.2378495158), (-3.4880857015, -49.2378495158), (72.7119142985, -49.2378495158), (-117.7880857015, -49.2378495158), (-41.5880857015, 15.8496504842), (72.7119142985, 15.8496504842), (-79.6880857015, 15.8496504842), (-3.4880857015, 15.8496504842), (-117.7880857015, 15.8496504842), (34.6119142985, 15.8496504842), (110.8119142985, 15.8496504842)):
            Hole(F2_D / 2)

    # F3 (through all)
    with Locations(Plane(origin=(0, 0, 0), x_dir=(1, 0, 0), z_dir=(0, 0, -1))):
        with Locations((-149.5380857015, 88.8746504842), (-149.5380857015, -25.4253495158), (-149.5380857015, -139.7253495158), (-2.8530857015, 88.8746504842), (142.5619142985, 88.8746504842), (142.5619142985, -25.4253495158), (142.5619142985, -139.7253495158), (-3.4880857015, -139.7253495158)):
            Hole(F3_D / 2)


solid = f1.part
